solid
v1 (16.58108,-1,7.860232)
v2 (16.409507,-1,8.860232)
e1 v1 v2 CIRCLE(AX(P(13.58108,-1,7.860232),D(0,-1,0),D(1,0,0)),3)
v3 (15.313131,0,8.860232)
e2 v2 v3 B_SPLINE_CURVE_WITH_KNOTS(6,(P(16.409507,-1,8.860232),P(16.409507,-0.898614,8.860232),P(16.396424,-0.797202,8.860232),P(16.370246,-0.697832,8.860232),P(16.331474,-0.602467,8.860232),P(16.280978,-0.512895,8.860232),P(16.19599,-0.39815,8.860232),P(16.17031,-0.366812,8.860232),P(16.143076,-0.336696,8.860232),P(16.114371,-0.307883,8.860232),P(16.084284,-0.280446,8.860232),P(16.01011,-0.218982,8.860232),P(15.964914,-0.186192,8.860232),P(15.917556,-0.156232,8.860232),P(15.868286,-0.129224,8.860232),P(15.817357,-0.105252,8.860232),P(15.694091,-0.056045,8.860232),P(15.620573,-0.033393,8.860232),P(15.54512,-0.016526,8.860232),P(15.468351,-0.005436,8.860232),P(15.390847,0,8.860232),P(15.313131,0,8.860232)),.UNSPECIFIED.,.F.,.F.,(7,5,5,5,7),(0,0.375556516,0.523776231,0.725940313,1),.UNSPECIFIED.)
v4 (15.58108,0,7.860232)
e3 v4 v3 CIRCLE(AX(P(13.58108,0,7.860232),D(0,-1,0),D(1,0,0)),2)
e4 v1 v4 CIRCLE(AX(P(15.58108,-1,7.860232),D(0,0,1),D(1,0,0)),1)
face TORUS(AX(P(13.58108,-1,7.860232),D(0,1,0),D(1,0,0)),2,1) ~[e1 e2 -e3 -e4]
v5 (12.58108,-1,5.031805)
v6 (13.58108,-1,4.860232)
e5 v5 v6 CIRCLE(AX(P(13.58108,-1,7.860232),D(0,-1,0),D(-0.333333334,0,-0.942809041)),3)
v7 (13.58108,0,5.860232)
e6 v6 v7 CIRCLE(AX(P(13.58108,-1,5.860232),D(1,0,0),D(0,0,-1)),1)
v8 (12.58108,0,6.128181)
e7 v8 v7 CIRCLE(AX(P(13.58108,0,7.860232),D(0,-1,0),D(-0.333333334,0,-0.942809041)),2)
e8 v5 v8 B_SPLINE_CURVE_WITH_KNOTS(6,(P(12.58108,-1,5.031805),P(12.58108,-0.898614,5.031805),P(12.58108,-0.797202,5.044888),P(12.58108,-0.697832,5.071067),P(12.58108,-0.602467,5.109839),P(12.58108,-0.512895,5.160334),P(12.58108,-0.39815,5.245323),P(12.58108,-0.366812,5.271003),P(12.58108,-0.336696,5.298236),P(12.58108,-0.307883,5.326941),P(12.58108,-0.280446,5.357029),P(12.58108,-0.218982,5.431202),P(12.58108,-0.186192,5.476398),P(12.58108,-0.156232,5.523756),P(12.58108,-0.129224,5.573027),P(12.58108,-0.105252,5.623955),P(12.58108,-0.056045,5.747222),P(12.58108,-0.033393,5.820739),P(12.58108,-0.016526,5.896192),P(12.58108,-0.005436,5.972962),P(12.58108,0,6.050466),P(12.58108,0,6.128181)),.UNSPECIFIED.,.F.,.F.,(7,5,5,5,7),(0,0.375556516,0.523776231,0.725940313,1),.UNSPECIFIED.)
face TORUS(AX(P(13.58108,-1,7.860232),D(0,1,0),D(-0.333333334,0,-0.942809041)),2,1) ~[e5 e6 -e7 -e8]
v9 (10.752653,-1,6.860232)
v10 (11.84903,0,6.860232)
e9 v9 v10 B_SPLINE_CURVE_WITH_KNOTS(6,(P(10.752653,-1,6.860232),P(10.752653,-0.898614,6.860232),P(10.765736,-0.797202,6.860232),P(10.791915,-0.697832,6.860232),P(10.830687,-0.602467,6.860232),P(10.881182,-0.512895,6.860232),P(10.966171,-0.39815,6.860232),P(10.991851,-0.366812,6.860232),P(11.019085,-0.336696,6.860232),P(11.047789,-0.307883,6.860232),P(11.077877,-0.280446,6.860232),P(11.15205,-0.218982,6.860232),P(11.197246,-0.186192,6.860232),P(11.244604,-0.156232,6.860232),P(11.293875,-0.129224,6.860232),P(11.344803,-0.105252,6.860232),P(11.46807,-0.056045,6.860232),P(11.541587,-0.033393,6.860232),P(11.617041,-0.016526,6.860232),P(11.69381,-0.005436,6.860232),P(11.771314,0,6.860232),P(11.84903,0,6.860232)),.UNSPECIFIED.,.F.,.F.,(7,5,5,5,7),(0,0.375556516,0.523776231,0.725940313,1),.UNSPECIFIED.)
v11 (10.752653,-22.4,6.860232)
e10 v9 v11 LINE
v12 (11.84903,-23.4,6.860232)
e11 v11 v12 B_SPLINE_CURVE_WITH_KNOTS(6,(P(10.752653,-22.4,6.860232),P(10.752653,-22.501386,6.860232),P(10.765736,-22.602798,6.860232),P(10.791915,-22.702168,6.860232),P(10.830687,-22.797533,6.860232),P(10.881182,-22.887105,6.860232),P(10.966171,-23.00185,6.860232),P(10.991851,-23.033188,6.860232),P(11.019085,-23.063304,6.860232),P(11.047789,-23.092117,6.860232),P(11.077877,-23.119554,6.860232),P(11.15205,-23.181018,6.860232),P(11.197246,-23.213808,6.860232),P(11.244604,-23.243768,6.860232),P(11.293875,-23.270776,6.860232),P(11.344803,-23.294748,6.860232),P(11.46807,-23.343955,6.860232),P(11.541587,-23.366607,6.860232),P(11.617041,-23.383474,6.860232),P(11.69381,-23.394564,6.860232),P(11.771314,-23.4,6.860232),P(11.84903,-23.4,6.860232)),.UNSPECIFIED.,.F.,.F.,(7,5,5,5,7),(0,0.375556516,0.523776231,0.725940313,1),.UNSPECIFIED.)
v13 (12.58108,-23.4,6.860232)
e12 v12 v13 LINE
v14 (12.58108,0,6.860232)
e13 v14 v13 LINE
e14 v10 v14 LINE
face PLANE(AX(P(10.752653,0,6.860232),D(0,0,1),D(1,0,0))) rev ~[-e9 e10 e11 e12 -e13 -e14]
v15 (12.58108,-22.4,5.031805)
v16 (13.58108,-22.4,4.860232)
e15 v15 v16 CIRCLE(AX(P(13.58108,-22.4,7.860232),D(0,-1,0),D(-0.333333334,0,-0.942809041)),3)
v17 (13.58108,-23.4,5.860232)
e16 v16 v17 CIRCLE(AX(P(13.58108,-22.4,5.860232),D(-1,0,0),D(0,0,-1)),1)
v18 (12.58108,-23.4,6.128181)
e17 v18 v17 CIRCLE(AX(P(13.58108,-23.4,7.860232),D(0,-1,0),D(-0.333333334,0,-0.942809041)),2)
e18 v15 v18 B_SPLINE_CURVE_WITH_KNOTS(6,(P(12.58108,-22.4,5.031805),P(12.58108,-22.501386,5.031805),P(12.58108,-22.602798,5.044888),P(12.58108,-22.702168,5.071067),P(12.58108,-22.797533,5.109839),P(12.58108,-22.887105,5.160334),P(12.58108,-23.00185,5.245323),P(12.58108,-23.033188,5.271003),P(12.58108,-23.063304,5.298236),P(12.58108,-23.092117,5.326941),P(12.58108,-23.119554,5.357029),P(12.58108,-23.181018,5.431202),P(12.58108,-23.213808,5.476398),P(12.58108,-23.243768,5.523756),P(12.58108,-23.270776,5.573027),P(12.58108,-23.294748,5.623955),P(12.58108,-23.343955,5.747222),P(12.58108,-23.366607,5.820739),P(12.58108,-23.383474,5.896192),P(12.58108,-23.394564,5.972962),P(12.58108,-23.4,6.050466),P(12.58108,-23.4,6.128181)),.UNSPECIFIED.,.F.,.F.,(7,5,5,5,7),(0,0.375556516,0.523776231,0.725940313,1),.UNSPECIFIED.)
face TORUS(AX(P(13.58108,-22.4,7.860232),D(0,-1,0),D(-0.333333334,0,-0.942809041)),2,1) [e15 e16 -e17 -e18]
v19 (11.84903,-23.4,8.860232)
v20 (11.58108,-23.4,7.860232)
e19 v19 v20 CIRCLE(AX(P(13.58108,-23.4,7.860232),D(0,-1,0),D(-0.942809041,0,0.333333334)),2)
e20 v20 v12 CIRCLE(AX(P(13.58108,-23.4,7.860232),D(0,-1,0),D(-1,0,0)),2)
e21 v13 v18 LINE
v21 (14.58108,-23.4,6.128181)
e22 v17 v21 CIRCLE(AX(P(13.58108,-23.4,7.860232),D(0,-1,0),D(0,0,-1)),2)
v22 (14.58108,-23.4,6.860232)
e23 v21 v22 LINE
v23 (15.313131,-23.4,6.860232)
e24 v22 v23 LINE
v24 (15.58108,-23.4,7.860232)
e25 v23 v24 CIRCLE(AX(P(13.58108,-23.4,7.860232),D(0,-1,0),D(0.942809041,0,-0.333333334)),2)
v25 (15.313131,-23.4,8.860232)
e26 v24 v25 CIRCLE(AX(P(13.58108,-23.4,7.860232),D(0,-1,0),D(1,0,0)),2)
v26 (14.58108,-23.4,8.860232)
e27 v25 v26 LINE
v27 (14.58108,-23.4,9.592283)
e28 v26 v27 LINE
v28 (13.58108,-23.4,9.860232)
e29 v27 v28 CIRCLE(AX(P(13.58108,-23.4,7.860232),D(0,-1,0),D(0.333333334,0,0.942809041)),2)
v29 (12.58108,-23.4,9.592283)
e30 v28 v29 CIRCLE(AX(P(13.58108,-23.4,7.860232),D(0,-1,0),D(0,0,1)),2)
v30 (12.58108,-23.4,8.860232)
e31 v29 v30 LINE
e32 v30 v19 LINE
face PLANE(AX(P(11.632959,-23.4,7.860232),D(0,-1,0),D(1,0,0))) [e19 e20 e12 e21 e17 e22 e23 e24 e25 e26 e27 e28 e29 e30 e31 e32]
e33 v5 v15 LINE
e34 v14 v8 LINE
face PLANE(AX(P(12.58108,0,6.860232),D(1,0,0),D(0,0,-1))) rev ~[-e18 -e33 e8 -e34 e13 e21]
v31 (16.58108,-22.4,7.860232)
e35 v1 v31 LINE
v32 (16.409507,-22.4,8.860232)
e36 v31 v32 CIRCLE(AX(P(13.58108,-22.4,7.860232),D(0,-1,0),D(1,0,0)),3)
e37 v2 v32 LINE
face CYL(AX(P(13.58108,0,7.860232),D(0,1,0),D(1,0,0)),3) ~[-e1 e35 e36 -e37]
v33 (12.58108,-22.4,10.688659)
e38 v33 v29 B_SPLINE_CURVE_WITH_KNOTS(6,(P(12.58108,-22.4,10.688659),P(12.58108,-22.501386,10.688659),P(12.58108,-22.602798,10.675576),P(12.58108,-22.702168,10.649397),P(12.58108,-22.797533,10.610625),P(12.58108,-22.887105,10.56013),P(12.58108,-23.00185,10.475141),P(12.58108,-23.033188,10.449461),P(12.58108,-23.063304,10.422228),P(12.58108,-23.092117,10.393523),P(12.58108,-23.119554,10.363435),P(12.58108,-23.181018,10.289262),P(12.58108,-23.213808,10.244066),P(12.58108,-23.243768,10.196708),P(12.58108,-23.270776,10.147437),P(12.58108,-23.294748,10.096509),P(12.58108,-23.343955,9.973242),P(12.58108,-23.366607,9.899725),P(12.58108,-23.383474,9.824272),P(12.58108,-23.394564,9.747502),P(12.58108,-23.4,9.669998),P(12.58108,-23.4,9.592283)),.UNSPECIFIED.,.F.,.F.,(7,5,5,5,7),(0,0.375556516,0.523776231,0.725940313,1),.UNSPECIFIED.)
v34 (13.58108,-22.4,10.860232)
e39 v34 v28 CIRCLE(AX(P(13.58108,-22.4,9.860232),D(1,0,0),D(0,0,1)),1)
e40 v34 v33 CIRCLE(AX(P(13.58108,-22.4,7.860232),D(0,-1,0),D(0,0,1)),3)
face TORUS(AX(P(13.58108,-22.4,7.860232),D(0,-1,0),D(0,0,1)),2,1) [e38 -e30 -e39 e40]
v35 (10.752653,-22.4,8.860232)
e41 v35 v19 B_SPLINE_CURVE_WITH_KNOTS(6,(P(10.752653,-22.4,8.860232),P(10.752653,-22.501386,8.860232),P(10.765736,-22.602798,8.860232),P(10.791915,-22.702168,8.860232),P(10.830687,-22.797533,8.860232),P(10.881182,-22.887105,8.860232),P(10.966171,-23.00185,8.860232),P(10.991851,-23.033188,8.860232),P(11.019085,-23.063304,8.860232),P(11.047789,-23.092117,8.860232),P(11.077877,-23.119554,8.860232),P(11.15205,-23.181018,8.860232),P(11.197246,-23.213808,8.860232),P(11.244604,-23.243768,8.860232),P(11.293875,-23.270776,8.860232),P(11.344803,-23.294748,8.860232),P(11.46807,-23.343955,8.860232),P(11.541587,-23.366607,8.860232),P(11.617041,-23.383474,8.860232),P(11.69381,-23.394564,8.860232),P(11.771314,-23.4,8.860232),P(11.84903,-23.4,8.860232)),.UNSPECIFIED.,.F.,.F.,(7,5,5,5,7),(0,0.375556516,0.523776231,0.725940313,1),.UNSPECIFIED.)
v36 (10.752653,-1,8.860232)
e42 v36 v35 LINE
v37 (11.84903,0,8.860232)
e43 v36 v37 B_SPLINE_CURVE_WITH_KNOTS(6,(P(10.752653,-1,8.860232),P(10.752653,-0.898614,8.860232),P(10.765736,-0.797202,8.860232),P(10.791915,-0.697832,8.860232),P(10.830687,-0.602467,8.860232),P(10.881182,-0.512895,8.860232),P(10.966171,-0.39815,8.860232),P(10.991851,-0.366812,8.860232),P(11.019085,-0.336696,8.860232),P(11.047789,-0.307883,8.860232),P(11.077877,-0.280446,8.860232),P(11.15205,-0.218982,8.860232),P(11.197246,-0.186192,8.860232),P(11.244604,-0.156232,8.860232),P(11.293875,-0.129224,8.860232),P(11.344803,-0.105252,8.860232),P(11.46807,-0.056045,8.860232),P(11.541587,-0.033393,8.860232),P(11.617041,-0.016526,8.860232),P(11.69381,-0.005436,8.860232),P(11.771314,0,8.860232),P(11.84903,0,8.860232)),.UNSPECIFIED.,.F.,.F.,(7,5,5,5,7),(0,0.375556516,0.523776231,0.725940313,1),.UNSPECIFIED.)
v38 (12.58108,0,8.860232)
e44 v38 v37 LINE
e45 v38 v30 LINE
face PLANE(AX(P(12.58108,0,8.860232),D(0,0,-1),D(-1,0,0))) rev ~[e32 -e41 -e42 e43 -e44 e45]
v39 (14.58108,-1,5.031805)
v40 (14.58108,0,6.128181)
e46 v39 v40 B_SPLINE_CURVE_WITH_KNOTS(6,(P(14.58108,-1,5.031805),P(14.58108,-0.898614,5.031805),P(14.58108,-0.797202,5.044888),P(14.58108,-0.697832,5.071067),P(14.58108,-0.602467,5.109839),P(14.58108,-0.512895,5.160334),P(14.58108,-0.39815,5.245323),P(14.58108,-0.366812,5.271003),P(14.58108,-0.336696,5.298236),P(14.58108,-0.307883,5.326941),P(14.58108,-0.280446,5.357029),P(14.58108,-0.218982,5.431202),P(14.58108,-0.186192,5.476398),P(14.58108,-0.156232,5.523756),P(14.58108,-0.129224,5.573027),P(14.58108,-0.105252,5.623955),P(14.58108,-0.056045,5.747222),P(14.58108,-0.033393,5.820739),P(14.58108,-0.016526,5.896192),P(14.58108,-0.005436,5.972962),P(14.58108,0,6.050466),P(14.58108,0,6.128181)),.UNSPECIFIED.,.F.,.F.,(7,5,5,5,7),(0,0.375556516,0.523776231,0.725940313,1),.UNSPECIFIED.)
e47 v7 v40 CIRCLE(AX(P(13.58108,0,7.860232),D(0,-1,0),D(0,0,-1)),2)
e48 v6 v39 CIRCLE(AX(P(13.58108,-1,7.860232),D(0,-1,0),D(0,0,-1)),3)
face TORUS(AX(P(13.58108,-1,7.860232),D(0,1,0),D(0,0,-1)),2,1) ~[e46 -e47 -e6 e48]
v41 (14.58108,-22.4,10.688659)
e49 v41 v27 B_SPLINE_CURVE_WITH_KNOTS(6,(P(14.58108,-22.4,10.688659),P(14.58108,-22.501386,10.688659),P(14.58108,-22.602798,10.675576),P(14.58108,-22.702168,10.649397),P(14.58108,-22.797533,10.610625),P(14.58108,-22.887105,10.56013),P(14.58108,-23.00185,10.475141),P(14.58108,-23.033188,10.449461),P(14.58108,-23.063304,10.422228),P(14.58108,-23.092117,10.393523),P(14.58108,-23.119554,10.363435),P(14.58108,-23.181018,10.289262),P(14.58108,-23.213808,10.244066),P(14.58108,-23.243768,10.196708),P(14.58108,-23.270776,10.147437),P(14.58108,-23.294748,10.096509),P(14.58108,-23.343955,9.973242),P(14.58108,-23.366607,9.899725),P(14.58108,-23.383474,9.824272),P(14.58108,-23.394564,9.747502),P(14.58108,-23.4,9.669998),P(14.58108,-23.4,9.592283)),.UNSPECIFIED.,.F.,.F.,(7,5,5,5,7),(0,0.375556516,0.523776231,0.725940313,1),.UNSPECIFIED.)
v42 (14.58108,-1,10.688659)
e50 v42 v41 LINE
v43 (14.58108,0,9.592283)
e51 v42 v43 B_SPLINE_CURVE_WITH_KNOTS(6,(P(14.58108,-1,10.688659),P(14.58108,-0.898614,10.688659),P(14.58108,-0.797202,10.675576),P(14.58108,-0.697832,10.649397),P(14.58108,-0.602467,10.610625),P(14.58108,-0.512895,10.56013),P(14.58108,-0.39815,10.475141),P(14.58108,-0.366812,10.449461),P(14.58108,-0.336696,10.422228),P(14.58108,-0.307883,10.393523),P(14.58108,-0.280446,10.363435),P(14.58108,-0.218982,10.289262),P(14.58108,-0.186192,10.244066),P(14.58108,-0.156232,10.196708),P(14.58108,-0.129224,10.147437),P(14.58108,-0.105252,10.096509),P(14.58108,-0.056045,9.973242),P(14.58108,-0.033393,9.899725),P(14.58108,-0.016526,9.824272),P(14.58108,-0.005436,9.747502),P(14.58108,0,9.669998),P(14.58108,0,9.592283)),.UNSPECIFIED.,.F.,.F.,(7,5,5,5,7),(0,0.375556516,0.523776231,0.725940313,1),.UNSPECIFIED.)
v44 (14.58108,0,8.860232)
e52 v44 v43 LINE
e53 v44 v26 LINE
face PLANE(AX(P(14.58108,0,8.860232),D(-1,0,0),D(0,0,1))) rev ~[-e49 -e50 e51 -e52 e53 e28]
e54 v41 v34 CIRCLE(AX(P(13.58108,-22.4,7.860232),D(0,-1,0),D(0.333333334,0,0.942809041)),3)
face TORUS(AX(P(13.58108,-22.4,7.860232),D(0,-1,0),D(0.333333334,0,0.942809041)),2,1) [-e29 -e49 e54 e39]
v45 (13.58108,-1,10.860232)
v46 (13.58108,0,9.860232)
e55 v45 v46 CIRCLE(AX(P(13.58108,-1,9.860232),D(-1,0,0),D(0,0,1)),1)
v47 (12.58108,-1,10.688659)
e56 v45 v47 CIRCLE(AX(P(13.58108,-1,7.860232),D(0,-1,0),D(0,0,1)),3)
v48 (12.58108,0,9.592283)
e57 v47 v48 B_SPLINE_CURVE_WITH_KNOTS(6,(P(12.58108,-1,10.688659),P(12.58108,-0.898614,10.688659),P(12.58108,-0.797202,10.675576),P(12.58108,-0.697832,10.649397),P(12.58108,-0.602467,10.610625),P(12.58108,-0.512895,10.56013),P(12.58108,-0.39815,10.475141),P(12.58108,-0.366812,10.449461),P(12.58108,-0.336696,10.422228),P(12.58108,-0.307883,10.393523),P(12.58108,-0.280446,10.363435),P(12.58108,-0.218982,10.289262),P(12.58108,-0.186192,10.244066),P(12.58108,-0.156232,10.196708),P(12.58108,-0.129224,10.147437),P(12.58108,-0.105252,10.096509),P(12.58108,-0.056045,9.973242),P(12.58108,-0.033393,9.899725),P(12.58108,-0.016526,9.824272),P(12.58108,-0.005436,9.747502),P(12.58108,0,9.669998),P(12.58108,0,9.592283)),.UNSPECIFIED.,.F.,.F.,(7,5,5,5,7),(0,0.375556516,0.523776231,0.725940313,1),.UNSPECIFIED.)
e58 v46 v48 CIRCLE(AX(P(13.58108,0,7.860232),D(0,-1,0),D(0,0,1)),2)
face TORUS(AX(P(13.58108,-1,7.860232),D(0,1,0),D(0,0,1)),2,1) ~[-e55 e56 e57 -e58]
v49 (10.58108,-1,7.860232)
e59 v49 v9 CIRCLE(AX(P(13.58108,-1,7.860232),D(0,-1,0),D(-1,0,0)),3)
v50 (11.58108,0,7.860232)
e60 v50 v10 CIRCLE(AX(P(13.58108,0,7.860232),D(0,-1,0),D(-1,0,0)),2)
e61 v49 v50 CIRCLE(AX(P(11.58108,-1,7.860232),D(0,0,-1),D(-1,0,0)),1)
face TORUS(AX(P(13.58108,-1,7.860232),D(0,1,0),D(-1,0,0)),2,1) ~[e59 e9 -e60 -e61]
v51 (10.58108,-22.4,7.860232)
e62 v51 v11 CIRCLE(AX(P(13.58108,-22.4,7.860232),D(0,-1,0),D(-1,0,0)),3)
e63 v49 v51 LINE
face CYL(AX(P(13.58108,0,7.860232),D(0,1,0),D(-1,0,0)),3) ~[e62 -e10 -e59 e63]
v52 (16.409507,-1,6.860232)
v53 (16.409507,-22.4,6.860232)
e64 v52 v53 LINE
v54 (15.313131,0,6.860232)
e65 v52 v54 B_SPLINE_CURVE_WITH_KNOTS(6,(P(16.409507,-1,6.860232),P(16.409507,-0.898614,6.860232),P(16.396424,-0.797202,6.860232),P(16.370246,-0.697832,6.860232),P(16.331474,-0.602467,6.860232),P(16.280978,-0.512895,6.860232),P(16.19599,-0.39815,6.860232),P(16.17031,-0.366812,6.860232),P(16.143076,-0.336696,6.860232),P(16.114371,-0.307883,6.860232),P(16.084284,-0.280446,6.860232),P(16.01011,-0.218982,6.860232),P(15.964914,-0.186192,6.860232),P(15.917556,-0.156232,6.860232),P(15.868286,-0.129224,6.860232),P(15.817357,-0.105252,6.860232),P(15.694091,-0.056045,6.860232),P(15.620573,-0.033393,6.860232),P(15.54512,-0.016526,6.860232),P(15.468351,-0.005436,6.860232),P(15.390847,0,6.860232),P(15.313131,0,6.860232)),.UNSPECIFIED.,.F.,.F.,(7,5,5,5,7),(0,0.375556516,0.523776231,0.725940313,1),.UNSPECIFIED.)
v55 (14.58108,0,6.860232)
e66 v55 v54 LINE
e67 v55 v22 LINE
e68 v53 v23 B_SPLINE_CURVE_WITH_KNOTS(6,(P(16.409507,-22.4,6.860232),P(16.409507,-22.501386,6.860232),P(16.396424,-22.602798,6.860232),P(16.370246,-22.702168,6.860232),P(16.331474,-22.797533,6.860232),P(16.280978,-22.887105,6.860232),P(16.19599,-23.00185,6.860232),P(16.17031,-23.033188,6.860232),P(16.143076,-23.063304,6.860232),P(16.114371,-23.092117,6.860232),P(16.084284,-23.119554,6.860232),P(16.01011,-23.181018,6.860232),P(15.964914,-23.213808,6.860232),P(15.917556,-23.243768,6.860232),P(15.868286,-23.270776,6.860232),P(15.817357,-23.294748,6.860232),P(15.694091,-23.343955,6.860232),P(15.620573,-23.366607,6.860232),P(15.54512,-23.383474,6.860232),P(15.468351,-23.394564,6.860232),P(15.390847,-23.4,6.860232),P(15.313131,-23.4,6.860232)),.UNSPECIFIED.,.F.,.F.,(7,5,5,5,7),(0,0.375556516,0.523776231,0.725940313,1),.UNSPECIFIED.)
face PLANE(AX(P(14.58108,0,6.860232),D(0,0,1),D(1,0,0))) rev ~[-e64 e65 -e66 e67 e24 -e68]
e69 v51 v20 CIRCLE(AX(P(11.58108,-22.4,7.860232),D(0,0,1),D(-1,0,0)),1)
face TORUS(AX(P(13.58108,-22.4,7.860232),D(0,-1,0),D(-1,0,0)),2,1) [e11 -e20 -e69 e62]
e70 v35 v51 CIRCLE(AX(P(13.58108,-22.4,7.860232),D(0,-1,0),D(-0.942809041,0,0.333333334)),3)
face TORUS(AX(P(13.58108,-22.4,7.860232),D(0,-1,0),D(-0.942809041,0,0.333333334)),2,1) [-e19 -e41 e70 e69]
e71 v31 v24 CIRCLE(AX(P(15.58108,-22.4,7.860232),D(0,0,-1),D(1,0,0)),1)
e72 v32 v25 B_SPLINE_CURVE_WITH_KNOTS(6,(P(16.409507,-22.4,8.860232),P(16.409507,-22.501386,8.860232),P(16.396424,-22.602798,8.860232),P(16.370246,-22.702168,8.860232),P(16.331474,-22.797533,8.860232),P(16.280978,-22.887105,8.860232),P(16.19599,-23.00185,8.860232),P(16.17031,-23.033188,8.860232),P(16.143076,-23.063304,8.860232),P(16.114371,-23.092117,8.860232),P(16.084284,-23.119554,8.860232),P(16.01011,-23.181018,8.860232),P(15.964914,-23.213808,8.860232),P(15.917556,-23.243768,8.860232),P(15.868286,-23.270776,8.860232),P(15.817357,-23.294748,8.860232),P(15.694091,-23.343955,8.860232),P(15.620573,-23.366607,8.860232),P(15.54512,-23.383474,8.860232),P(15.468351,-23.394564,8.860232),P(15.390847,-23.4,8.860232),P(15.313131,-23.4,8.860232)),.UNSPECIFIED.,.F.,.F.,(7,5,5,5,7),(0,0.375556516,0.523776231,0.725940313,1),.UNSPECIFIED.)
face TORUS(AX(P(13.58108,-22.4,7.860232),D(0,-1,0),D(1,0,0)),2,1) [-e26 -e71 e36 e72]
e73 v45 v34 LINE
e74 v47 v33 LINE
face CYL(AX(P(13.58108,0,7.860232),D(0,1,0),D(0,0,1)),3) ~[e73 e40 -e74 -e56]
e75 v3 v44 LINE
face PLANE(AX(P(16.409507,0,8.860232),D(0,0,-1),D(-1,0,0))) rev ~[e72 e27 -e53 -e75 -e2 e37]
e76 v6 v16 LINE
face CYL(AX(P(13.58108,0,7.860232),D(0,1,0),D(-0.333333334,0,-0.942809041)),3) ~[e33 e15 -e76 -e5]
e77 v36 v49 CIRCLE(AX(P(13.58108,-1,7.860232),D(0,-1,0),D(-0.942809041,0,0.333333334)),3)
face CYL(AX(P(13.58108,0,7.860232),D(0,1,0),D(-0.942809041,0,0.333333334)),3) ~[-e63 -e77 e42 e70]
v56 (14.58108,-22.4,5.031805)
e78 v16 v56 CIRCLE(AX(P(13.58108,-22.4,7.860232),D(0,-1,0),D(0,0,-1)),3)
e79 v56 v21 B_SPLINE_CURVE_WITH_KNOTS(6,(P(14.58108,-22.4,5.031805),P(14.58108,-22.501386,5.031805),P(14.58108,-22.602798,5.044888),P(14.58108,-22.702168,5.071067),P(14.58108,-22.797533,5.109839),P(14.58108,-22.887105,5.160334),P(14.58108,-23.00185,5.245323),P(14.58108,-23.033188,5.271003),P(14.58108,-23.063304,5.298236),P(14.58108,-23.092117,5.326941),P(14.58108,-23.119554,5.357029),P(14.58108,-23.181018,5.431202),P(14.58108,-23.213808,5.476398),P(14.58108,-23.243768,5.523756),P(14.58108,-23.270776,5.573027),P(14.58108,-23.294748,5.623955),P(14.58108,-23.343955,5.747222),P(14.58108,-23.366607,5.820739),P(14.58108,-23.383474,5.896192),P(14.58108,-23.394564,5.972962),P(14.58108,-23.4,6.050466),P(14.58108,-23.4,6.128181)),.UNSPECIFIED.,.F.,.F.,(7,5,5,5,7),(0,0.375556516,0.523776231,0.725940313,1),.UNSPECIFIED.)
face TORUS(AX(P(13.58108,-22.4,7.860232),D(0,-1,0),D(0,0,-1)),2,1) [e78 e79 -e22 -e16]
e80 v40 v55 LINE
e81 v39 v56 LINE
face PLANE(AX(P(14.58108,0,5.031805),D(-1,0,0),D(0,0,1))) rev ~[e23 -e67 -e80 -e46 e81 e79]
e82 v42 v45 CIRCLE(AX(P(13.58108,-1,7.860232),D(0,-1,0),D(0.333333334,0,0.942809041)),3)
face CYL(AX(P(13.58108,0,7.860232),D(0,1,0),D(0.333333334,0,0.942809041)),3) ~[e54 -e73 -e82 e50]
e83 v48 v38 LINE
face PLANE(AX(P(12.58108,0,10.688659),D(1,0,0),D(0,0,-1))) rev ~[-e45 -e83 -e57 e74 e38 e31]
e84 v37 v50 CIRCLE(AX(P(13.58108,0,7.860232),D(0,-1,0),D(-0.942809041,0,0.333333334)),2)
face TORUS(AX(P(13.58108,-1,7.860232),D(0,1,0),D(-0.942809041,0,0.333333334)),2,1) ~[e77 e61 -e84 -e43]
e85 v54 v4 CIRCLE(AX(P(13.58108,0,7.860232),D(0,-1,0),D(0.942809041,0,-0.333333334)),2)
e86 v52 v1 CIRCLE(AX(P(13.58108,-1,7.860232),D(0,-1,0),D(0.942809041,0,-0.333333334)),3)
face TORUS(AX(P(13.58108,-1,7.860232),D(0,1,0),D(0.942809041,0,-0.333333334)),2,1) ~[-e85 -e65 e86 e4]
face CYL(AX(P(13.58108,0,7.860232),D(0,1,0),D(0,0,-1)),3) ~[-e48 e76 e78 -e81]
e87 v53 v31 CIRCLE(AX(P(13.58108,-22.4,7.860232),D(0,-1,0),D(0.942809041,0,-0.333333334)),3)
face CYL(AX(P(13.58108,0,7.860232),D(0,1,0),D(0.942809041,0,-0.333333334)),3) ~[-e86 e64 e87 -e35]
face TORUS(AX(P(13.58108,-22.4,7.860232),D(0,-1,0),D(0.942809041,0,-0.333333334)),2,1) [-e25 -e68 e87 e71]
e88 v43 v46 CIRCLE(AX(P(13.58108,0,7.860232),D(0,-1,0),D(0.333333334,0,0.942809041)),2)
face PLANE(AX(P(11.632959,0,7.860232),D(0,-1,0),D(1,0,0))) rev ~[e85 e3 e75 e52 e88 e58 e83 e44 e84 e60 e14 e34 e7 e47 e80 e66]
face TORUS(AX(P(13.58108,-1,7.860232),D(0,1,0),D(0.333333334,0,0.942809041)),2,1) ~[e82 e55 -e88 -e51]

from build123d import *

# Parameters (mm, degrees)
F0_W     = 2
F0_H     = 2
F1_DEPTH = 23.4
F2_R     = 1


with BuildPart() as f1:
    # F0 (on Front) → F1 (new body)
    with BuildSketch(Plane.XZ):
        with BuildLine():
            Line((12.5810803622, 6.8602320091), (12.5810803622, 8.8602320091))
            Line((12.5810803622, 8.8602320091), (10.7526532375, 8.8602320091))
            ThreePointArc((10.7526532375, 8.8602320091), (10.6242846832, 8.3675379453), (10.5810803622, 7.8602320091))
            ThreePointArc((10.5810803622, 7.8602320091), (10.6242846832, 7.3529260729), (10.7526532375, 6.8602320091))
            Line((10.7526532375, 6.8602320091), (12.5810803622, 6.8602320091))
        make_face()
        with Locations((13.5810803622, 7.8602320091)):
            Rectangle(F0_W, F0_H)
        with BuildLine():
            Line((14.5810803622, 8.8602320091), (14.5810803622, 10.6886591338))
            ThreePointArc((14.5810803622, 10.6886591338), (14.0883862984, 10.8170276881), (13.5810803622, 10.8602320091))
            ThreePointArc((13.5810803622, 10.8602320091), (13.073774426, 10.8170276881), (12.5810803622, 10.6886591338))
            Line((12.5810803622, 10.6886591338), (12.5810803622, 8.8602320091))
            Line((12.5810803622, 8.8602320091), (14.5810803622, 8.8602320091))
        make_face()
        with BuildLine():
            ThreePointArc((13.5810803622, 4.8602320091), (14.0883862984, 4.9034363301), (14.5810803622, 5.0318048844))
            Line((14.5810803622, 5.0318048844), (14.5810803622, 6.8602320091))
            Line((14.5810803622, 6.8602320091), (12.5810803622, 6.8602320091))
            Line((12.5810803622, 6.8602320091), (12.5810803622, 5.0318048844))
            ThreePointArc((12.5810803622, 5.0318048844), (13.073774426, 4.9034363301), (13.5810803622, 4.8602320091))
        make_face()
        with BuildLine():
            ThreePointArc((16.4095074869, 6.8602320091), (16.5378760412, 7.3529260729), (16.5810803622, 7.8602320091))
            ThreePointArc((16.5810803622, 7.8602320091), (16.5378760412, 8.3675379453), (16.4095074869, 8.8602320091))
            Line((16.4095074869, 8.8602320091), (14.5810803622, 8.8602320091))
            Line((14.5810803622, 8.8602320091), (14.5810803622, 6.8602320091))
            Line((14.5810803622, 6.8602320091), (16.4095074869, 6.8602320091))
        make_face()
    extrude(amount=F1_DEPTH)

    # F2
    f2_edges = [f1.edges().sort_by_distance(p)[0] for p in [
        (16.58108, 0, 7.860232),
        (13.58108, 0, 10.860232),
        (10.58108, 0, 7.860232),
        (13.58108, 0, 4.860232),
        (13.58108, -23.4, 10.860232),
        (10.58108, -23.4, 7.860232),
        (13.58108, -23.4, 4.860232),
        (16.58108, -23.4, 7.860232),
    ]]
    fillet(f2_edges, radius=F2_R)


solid = f1.part
